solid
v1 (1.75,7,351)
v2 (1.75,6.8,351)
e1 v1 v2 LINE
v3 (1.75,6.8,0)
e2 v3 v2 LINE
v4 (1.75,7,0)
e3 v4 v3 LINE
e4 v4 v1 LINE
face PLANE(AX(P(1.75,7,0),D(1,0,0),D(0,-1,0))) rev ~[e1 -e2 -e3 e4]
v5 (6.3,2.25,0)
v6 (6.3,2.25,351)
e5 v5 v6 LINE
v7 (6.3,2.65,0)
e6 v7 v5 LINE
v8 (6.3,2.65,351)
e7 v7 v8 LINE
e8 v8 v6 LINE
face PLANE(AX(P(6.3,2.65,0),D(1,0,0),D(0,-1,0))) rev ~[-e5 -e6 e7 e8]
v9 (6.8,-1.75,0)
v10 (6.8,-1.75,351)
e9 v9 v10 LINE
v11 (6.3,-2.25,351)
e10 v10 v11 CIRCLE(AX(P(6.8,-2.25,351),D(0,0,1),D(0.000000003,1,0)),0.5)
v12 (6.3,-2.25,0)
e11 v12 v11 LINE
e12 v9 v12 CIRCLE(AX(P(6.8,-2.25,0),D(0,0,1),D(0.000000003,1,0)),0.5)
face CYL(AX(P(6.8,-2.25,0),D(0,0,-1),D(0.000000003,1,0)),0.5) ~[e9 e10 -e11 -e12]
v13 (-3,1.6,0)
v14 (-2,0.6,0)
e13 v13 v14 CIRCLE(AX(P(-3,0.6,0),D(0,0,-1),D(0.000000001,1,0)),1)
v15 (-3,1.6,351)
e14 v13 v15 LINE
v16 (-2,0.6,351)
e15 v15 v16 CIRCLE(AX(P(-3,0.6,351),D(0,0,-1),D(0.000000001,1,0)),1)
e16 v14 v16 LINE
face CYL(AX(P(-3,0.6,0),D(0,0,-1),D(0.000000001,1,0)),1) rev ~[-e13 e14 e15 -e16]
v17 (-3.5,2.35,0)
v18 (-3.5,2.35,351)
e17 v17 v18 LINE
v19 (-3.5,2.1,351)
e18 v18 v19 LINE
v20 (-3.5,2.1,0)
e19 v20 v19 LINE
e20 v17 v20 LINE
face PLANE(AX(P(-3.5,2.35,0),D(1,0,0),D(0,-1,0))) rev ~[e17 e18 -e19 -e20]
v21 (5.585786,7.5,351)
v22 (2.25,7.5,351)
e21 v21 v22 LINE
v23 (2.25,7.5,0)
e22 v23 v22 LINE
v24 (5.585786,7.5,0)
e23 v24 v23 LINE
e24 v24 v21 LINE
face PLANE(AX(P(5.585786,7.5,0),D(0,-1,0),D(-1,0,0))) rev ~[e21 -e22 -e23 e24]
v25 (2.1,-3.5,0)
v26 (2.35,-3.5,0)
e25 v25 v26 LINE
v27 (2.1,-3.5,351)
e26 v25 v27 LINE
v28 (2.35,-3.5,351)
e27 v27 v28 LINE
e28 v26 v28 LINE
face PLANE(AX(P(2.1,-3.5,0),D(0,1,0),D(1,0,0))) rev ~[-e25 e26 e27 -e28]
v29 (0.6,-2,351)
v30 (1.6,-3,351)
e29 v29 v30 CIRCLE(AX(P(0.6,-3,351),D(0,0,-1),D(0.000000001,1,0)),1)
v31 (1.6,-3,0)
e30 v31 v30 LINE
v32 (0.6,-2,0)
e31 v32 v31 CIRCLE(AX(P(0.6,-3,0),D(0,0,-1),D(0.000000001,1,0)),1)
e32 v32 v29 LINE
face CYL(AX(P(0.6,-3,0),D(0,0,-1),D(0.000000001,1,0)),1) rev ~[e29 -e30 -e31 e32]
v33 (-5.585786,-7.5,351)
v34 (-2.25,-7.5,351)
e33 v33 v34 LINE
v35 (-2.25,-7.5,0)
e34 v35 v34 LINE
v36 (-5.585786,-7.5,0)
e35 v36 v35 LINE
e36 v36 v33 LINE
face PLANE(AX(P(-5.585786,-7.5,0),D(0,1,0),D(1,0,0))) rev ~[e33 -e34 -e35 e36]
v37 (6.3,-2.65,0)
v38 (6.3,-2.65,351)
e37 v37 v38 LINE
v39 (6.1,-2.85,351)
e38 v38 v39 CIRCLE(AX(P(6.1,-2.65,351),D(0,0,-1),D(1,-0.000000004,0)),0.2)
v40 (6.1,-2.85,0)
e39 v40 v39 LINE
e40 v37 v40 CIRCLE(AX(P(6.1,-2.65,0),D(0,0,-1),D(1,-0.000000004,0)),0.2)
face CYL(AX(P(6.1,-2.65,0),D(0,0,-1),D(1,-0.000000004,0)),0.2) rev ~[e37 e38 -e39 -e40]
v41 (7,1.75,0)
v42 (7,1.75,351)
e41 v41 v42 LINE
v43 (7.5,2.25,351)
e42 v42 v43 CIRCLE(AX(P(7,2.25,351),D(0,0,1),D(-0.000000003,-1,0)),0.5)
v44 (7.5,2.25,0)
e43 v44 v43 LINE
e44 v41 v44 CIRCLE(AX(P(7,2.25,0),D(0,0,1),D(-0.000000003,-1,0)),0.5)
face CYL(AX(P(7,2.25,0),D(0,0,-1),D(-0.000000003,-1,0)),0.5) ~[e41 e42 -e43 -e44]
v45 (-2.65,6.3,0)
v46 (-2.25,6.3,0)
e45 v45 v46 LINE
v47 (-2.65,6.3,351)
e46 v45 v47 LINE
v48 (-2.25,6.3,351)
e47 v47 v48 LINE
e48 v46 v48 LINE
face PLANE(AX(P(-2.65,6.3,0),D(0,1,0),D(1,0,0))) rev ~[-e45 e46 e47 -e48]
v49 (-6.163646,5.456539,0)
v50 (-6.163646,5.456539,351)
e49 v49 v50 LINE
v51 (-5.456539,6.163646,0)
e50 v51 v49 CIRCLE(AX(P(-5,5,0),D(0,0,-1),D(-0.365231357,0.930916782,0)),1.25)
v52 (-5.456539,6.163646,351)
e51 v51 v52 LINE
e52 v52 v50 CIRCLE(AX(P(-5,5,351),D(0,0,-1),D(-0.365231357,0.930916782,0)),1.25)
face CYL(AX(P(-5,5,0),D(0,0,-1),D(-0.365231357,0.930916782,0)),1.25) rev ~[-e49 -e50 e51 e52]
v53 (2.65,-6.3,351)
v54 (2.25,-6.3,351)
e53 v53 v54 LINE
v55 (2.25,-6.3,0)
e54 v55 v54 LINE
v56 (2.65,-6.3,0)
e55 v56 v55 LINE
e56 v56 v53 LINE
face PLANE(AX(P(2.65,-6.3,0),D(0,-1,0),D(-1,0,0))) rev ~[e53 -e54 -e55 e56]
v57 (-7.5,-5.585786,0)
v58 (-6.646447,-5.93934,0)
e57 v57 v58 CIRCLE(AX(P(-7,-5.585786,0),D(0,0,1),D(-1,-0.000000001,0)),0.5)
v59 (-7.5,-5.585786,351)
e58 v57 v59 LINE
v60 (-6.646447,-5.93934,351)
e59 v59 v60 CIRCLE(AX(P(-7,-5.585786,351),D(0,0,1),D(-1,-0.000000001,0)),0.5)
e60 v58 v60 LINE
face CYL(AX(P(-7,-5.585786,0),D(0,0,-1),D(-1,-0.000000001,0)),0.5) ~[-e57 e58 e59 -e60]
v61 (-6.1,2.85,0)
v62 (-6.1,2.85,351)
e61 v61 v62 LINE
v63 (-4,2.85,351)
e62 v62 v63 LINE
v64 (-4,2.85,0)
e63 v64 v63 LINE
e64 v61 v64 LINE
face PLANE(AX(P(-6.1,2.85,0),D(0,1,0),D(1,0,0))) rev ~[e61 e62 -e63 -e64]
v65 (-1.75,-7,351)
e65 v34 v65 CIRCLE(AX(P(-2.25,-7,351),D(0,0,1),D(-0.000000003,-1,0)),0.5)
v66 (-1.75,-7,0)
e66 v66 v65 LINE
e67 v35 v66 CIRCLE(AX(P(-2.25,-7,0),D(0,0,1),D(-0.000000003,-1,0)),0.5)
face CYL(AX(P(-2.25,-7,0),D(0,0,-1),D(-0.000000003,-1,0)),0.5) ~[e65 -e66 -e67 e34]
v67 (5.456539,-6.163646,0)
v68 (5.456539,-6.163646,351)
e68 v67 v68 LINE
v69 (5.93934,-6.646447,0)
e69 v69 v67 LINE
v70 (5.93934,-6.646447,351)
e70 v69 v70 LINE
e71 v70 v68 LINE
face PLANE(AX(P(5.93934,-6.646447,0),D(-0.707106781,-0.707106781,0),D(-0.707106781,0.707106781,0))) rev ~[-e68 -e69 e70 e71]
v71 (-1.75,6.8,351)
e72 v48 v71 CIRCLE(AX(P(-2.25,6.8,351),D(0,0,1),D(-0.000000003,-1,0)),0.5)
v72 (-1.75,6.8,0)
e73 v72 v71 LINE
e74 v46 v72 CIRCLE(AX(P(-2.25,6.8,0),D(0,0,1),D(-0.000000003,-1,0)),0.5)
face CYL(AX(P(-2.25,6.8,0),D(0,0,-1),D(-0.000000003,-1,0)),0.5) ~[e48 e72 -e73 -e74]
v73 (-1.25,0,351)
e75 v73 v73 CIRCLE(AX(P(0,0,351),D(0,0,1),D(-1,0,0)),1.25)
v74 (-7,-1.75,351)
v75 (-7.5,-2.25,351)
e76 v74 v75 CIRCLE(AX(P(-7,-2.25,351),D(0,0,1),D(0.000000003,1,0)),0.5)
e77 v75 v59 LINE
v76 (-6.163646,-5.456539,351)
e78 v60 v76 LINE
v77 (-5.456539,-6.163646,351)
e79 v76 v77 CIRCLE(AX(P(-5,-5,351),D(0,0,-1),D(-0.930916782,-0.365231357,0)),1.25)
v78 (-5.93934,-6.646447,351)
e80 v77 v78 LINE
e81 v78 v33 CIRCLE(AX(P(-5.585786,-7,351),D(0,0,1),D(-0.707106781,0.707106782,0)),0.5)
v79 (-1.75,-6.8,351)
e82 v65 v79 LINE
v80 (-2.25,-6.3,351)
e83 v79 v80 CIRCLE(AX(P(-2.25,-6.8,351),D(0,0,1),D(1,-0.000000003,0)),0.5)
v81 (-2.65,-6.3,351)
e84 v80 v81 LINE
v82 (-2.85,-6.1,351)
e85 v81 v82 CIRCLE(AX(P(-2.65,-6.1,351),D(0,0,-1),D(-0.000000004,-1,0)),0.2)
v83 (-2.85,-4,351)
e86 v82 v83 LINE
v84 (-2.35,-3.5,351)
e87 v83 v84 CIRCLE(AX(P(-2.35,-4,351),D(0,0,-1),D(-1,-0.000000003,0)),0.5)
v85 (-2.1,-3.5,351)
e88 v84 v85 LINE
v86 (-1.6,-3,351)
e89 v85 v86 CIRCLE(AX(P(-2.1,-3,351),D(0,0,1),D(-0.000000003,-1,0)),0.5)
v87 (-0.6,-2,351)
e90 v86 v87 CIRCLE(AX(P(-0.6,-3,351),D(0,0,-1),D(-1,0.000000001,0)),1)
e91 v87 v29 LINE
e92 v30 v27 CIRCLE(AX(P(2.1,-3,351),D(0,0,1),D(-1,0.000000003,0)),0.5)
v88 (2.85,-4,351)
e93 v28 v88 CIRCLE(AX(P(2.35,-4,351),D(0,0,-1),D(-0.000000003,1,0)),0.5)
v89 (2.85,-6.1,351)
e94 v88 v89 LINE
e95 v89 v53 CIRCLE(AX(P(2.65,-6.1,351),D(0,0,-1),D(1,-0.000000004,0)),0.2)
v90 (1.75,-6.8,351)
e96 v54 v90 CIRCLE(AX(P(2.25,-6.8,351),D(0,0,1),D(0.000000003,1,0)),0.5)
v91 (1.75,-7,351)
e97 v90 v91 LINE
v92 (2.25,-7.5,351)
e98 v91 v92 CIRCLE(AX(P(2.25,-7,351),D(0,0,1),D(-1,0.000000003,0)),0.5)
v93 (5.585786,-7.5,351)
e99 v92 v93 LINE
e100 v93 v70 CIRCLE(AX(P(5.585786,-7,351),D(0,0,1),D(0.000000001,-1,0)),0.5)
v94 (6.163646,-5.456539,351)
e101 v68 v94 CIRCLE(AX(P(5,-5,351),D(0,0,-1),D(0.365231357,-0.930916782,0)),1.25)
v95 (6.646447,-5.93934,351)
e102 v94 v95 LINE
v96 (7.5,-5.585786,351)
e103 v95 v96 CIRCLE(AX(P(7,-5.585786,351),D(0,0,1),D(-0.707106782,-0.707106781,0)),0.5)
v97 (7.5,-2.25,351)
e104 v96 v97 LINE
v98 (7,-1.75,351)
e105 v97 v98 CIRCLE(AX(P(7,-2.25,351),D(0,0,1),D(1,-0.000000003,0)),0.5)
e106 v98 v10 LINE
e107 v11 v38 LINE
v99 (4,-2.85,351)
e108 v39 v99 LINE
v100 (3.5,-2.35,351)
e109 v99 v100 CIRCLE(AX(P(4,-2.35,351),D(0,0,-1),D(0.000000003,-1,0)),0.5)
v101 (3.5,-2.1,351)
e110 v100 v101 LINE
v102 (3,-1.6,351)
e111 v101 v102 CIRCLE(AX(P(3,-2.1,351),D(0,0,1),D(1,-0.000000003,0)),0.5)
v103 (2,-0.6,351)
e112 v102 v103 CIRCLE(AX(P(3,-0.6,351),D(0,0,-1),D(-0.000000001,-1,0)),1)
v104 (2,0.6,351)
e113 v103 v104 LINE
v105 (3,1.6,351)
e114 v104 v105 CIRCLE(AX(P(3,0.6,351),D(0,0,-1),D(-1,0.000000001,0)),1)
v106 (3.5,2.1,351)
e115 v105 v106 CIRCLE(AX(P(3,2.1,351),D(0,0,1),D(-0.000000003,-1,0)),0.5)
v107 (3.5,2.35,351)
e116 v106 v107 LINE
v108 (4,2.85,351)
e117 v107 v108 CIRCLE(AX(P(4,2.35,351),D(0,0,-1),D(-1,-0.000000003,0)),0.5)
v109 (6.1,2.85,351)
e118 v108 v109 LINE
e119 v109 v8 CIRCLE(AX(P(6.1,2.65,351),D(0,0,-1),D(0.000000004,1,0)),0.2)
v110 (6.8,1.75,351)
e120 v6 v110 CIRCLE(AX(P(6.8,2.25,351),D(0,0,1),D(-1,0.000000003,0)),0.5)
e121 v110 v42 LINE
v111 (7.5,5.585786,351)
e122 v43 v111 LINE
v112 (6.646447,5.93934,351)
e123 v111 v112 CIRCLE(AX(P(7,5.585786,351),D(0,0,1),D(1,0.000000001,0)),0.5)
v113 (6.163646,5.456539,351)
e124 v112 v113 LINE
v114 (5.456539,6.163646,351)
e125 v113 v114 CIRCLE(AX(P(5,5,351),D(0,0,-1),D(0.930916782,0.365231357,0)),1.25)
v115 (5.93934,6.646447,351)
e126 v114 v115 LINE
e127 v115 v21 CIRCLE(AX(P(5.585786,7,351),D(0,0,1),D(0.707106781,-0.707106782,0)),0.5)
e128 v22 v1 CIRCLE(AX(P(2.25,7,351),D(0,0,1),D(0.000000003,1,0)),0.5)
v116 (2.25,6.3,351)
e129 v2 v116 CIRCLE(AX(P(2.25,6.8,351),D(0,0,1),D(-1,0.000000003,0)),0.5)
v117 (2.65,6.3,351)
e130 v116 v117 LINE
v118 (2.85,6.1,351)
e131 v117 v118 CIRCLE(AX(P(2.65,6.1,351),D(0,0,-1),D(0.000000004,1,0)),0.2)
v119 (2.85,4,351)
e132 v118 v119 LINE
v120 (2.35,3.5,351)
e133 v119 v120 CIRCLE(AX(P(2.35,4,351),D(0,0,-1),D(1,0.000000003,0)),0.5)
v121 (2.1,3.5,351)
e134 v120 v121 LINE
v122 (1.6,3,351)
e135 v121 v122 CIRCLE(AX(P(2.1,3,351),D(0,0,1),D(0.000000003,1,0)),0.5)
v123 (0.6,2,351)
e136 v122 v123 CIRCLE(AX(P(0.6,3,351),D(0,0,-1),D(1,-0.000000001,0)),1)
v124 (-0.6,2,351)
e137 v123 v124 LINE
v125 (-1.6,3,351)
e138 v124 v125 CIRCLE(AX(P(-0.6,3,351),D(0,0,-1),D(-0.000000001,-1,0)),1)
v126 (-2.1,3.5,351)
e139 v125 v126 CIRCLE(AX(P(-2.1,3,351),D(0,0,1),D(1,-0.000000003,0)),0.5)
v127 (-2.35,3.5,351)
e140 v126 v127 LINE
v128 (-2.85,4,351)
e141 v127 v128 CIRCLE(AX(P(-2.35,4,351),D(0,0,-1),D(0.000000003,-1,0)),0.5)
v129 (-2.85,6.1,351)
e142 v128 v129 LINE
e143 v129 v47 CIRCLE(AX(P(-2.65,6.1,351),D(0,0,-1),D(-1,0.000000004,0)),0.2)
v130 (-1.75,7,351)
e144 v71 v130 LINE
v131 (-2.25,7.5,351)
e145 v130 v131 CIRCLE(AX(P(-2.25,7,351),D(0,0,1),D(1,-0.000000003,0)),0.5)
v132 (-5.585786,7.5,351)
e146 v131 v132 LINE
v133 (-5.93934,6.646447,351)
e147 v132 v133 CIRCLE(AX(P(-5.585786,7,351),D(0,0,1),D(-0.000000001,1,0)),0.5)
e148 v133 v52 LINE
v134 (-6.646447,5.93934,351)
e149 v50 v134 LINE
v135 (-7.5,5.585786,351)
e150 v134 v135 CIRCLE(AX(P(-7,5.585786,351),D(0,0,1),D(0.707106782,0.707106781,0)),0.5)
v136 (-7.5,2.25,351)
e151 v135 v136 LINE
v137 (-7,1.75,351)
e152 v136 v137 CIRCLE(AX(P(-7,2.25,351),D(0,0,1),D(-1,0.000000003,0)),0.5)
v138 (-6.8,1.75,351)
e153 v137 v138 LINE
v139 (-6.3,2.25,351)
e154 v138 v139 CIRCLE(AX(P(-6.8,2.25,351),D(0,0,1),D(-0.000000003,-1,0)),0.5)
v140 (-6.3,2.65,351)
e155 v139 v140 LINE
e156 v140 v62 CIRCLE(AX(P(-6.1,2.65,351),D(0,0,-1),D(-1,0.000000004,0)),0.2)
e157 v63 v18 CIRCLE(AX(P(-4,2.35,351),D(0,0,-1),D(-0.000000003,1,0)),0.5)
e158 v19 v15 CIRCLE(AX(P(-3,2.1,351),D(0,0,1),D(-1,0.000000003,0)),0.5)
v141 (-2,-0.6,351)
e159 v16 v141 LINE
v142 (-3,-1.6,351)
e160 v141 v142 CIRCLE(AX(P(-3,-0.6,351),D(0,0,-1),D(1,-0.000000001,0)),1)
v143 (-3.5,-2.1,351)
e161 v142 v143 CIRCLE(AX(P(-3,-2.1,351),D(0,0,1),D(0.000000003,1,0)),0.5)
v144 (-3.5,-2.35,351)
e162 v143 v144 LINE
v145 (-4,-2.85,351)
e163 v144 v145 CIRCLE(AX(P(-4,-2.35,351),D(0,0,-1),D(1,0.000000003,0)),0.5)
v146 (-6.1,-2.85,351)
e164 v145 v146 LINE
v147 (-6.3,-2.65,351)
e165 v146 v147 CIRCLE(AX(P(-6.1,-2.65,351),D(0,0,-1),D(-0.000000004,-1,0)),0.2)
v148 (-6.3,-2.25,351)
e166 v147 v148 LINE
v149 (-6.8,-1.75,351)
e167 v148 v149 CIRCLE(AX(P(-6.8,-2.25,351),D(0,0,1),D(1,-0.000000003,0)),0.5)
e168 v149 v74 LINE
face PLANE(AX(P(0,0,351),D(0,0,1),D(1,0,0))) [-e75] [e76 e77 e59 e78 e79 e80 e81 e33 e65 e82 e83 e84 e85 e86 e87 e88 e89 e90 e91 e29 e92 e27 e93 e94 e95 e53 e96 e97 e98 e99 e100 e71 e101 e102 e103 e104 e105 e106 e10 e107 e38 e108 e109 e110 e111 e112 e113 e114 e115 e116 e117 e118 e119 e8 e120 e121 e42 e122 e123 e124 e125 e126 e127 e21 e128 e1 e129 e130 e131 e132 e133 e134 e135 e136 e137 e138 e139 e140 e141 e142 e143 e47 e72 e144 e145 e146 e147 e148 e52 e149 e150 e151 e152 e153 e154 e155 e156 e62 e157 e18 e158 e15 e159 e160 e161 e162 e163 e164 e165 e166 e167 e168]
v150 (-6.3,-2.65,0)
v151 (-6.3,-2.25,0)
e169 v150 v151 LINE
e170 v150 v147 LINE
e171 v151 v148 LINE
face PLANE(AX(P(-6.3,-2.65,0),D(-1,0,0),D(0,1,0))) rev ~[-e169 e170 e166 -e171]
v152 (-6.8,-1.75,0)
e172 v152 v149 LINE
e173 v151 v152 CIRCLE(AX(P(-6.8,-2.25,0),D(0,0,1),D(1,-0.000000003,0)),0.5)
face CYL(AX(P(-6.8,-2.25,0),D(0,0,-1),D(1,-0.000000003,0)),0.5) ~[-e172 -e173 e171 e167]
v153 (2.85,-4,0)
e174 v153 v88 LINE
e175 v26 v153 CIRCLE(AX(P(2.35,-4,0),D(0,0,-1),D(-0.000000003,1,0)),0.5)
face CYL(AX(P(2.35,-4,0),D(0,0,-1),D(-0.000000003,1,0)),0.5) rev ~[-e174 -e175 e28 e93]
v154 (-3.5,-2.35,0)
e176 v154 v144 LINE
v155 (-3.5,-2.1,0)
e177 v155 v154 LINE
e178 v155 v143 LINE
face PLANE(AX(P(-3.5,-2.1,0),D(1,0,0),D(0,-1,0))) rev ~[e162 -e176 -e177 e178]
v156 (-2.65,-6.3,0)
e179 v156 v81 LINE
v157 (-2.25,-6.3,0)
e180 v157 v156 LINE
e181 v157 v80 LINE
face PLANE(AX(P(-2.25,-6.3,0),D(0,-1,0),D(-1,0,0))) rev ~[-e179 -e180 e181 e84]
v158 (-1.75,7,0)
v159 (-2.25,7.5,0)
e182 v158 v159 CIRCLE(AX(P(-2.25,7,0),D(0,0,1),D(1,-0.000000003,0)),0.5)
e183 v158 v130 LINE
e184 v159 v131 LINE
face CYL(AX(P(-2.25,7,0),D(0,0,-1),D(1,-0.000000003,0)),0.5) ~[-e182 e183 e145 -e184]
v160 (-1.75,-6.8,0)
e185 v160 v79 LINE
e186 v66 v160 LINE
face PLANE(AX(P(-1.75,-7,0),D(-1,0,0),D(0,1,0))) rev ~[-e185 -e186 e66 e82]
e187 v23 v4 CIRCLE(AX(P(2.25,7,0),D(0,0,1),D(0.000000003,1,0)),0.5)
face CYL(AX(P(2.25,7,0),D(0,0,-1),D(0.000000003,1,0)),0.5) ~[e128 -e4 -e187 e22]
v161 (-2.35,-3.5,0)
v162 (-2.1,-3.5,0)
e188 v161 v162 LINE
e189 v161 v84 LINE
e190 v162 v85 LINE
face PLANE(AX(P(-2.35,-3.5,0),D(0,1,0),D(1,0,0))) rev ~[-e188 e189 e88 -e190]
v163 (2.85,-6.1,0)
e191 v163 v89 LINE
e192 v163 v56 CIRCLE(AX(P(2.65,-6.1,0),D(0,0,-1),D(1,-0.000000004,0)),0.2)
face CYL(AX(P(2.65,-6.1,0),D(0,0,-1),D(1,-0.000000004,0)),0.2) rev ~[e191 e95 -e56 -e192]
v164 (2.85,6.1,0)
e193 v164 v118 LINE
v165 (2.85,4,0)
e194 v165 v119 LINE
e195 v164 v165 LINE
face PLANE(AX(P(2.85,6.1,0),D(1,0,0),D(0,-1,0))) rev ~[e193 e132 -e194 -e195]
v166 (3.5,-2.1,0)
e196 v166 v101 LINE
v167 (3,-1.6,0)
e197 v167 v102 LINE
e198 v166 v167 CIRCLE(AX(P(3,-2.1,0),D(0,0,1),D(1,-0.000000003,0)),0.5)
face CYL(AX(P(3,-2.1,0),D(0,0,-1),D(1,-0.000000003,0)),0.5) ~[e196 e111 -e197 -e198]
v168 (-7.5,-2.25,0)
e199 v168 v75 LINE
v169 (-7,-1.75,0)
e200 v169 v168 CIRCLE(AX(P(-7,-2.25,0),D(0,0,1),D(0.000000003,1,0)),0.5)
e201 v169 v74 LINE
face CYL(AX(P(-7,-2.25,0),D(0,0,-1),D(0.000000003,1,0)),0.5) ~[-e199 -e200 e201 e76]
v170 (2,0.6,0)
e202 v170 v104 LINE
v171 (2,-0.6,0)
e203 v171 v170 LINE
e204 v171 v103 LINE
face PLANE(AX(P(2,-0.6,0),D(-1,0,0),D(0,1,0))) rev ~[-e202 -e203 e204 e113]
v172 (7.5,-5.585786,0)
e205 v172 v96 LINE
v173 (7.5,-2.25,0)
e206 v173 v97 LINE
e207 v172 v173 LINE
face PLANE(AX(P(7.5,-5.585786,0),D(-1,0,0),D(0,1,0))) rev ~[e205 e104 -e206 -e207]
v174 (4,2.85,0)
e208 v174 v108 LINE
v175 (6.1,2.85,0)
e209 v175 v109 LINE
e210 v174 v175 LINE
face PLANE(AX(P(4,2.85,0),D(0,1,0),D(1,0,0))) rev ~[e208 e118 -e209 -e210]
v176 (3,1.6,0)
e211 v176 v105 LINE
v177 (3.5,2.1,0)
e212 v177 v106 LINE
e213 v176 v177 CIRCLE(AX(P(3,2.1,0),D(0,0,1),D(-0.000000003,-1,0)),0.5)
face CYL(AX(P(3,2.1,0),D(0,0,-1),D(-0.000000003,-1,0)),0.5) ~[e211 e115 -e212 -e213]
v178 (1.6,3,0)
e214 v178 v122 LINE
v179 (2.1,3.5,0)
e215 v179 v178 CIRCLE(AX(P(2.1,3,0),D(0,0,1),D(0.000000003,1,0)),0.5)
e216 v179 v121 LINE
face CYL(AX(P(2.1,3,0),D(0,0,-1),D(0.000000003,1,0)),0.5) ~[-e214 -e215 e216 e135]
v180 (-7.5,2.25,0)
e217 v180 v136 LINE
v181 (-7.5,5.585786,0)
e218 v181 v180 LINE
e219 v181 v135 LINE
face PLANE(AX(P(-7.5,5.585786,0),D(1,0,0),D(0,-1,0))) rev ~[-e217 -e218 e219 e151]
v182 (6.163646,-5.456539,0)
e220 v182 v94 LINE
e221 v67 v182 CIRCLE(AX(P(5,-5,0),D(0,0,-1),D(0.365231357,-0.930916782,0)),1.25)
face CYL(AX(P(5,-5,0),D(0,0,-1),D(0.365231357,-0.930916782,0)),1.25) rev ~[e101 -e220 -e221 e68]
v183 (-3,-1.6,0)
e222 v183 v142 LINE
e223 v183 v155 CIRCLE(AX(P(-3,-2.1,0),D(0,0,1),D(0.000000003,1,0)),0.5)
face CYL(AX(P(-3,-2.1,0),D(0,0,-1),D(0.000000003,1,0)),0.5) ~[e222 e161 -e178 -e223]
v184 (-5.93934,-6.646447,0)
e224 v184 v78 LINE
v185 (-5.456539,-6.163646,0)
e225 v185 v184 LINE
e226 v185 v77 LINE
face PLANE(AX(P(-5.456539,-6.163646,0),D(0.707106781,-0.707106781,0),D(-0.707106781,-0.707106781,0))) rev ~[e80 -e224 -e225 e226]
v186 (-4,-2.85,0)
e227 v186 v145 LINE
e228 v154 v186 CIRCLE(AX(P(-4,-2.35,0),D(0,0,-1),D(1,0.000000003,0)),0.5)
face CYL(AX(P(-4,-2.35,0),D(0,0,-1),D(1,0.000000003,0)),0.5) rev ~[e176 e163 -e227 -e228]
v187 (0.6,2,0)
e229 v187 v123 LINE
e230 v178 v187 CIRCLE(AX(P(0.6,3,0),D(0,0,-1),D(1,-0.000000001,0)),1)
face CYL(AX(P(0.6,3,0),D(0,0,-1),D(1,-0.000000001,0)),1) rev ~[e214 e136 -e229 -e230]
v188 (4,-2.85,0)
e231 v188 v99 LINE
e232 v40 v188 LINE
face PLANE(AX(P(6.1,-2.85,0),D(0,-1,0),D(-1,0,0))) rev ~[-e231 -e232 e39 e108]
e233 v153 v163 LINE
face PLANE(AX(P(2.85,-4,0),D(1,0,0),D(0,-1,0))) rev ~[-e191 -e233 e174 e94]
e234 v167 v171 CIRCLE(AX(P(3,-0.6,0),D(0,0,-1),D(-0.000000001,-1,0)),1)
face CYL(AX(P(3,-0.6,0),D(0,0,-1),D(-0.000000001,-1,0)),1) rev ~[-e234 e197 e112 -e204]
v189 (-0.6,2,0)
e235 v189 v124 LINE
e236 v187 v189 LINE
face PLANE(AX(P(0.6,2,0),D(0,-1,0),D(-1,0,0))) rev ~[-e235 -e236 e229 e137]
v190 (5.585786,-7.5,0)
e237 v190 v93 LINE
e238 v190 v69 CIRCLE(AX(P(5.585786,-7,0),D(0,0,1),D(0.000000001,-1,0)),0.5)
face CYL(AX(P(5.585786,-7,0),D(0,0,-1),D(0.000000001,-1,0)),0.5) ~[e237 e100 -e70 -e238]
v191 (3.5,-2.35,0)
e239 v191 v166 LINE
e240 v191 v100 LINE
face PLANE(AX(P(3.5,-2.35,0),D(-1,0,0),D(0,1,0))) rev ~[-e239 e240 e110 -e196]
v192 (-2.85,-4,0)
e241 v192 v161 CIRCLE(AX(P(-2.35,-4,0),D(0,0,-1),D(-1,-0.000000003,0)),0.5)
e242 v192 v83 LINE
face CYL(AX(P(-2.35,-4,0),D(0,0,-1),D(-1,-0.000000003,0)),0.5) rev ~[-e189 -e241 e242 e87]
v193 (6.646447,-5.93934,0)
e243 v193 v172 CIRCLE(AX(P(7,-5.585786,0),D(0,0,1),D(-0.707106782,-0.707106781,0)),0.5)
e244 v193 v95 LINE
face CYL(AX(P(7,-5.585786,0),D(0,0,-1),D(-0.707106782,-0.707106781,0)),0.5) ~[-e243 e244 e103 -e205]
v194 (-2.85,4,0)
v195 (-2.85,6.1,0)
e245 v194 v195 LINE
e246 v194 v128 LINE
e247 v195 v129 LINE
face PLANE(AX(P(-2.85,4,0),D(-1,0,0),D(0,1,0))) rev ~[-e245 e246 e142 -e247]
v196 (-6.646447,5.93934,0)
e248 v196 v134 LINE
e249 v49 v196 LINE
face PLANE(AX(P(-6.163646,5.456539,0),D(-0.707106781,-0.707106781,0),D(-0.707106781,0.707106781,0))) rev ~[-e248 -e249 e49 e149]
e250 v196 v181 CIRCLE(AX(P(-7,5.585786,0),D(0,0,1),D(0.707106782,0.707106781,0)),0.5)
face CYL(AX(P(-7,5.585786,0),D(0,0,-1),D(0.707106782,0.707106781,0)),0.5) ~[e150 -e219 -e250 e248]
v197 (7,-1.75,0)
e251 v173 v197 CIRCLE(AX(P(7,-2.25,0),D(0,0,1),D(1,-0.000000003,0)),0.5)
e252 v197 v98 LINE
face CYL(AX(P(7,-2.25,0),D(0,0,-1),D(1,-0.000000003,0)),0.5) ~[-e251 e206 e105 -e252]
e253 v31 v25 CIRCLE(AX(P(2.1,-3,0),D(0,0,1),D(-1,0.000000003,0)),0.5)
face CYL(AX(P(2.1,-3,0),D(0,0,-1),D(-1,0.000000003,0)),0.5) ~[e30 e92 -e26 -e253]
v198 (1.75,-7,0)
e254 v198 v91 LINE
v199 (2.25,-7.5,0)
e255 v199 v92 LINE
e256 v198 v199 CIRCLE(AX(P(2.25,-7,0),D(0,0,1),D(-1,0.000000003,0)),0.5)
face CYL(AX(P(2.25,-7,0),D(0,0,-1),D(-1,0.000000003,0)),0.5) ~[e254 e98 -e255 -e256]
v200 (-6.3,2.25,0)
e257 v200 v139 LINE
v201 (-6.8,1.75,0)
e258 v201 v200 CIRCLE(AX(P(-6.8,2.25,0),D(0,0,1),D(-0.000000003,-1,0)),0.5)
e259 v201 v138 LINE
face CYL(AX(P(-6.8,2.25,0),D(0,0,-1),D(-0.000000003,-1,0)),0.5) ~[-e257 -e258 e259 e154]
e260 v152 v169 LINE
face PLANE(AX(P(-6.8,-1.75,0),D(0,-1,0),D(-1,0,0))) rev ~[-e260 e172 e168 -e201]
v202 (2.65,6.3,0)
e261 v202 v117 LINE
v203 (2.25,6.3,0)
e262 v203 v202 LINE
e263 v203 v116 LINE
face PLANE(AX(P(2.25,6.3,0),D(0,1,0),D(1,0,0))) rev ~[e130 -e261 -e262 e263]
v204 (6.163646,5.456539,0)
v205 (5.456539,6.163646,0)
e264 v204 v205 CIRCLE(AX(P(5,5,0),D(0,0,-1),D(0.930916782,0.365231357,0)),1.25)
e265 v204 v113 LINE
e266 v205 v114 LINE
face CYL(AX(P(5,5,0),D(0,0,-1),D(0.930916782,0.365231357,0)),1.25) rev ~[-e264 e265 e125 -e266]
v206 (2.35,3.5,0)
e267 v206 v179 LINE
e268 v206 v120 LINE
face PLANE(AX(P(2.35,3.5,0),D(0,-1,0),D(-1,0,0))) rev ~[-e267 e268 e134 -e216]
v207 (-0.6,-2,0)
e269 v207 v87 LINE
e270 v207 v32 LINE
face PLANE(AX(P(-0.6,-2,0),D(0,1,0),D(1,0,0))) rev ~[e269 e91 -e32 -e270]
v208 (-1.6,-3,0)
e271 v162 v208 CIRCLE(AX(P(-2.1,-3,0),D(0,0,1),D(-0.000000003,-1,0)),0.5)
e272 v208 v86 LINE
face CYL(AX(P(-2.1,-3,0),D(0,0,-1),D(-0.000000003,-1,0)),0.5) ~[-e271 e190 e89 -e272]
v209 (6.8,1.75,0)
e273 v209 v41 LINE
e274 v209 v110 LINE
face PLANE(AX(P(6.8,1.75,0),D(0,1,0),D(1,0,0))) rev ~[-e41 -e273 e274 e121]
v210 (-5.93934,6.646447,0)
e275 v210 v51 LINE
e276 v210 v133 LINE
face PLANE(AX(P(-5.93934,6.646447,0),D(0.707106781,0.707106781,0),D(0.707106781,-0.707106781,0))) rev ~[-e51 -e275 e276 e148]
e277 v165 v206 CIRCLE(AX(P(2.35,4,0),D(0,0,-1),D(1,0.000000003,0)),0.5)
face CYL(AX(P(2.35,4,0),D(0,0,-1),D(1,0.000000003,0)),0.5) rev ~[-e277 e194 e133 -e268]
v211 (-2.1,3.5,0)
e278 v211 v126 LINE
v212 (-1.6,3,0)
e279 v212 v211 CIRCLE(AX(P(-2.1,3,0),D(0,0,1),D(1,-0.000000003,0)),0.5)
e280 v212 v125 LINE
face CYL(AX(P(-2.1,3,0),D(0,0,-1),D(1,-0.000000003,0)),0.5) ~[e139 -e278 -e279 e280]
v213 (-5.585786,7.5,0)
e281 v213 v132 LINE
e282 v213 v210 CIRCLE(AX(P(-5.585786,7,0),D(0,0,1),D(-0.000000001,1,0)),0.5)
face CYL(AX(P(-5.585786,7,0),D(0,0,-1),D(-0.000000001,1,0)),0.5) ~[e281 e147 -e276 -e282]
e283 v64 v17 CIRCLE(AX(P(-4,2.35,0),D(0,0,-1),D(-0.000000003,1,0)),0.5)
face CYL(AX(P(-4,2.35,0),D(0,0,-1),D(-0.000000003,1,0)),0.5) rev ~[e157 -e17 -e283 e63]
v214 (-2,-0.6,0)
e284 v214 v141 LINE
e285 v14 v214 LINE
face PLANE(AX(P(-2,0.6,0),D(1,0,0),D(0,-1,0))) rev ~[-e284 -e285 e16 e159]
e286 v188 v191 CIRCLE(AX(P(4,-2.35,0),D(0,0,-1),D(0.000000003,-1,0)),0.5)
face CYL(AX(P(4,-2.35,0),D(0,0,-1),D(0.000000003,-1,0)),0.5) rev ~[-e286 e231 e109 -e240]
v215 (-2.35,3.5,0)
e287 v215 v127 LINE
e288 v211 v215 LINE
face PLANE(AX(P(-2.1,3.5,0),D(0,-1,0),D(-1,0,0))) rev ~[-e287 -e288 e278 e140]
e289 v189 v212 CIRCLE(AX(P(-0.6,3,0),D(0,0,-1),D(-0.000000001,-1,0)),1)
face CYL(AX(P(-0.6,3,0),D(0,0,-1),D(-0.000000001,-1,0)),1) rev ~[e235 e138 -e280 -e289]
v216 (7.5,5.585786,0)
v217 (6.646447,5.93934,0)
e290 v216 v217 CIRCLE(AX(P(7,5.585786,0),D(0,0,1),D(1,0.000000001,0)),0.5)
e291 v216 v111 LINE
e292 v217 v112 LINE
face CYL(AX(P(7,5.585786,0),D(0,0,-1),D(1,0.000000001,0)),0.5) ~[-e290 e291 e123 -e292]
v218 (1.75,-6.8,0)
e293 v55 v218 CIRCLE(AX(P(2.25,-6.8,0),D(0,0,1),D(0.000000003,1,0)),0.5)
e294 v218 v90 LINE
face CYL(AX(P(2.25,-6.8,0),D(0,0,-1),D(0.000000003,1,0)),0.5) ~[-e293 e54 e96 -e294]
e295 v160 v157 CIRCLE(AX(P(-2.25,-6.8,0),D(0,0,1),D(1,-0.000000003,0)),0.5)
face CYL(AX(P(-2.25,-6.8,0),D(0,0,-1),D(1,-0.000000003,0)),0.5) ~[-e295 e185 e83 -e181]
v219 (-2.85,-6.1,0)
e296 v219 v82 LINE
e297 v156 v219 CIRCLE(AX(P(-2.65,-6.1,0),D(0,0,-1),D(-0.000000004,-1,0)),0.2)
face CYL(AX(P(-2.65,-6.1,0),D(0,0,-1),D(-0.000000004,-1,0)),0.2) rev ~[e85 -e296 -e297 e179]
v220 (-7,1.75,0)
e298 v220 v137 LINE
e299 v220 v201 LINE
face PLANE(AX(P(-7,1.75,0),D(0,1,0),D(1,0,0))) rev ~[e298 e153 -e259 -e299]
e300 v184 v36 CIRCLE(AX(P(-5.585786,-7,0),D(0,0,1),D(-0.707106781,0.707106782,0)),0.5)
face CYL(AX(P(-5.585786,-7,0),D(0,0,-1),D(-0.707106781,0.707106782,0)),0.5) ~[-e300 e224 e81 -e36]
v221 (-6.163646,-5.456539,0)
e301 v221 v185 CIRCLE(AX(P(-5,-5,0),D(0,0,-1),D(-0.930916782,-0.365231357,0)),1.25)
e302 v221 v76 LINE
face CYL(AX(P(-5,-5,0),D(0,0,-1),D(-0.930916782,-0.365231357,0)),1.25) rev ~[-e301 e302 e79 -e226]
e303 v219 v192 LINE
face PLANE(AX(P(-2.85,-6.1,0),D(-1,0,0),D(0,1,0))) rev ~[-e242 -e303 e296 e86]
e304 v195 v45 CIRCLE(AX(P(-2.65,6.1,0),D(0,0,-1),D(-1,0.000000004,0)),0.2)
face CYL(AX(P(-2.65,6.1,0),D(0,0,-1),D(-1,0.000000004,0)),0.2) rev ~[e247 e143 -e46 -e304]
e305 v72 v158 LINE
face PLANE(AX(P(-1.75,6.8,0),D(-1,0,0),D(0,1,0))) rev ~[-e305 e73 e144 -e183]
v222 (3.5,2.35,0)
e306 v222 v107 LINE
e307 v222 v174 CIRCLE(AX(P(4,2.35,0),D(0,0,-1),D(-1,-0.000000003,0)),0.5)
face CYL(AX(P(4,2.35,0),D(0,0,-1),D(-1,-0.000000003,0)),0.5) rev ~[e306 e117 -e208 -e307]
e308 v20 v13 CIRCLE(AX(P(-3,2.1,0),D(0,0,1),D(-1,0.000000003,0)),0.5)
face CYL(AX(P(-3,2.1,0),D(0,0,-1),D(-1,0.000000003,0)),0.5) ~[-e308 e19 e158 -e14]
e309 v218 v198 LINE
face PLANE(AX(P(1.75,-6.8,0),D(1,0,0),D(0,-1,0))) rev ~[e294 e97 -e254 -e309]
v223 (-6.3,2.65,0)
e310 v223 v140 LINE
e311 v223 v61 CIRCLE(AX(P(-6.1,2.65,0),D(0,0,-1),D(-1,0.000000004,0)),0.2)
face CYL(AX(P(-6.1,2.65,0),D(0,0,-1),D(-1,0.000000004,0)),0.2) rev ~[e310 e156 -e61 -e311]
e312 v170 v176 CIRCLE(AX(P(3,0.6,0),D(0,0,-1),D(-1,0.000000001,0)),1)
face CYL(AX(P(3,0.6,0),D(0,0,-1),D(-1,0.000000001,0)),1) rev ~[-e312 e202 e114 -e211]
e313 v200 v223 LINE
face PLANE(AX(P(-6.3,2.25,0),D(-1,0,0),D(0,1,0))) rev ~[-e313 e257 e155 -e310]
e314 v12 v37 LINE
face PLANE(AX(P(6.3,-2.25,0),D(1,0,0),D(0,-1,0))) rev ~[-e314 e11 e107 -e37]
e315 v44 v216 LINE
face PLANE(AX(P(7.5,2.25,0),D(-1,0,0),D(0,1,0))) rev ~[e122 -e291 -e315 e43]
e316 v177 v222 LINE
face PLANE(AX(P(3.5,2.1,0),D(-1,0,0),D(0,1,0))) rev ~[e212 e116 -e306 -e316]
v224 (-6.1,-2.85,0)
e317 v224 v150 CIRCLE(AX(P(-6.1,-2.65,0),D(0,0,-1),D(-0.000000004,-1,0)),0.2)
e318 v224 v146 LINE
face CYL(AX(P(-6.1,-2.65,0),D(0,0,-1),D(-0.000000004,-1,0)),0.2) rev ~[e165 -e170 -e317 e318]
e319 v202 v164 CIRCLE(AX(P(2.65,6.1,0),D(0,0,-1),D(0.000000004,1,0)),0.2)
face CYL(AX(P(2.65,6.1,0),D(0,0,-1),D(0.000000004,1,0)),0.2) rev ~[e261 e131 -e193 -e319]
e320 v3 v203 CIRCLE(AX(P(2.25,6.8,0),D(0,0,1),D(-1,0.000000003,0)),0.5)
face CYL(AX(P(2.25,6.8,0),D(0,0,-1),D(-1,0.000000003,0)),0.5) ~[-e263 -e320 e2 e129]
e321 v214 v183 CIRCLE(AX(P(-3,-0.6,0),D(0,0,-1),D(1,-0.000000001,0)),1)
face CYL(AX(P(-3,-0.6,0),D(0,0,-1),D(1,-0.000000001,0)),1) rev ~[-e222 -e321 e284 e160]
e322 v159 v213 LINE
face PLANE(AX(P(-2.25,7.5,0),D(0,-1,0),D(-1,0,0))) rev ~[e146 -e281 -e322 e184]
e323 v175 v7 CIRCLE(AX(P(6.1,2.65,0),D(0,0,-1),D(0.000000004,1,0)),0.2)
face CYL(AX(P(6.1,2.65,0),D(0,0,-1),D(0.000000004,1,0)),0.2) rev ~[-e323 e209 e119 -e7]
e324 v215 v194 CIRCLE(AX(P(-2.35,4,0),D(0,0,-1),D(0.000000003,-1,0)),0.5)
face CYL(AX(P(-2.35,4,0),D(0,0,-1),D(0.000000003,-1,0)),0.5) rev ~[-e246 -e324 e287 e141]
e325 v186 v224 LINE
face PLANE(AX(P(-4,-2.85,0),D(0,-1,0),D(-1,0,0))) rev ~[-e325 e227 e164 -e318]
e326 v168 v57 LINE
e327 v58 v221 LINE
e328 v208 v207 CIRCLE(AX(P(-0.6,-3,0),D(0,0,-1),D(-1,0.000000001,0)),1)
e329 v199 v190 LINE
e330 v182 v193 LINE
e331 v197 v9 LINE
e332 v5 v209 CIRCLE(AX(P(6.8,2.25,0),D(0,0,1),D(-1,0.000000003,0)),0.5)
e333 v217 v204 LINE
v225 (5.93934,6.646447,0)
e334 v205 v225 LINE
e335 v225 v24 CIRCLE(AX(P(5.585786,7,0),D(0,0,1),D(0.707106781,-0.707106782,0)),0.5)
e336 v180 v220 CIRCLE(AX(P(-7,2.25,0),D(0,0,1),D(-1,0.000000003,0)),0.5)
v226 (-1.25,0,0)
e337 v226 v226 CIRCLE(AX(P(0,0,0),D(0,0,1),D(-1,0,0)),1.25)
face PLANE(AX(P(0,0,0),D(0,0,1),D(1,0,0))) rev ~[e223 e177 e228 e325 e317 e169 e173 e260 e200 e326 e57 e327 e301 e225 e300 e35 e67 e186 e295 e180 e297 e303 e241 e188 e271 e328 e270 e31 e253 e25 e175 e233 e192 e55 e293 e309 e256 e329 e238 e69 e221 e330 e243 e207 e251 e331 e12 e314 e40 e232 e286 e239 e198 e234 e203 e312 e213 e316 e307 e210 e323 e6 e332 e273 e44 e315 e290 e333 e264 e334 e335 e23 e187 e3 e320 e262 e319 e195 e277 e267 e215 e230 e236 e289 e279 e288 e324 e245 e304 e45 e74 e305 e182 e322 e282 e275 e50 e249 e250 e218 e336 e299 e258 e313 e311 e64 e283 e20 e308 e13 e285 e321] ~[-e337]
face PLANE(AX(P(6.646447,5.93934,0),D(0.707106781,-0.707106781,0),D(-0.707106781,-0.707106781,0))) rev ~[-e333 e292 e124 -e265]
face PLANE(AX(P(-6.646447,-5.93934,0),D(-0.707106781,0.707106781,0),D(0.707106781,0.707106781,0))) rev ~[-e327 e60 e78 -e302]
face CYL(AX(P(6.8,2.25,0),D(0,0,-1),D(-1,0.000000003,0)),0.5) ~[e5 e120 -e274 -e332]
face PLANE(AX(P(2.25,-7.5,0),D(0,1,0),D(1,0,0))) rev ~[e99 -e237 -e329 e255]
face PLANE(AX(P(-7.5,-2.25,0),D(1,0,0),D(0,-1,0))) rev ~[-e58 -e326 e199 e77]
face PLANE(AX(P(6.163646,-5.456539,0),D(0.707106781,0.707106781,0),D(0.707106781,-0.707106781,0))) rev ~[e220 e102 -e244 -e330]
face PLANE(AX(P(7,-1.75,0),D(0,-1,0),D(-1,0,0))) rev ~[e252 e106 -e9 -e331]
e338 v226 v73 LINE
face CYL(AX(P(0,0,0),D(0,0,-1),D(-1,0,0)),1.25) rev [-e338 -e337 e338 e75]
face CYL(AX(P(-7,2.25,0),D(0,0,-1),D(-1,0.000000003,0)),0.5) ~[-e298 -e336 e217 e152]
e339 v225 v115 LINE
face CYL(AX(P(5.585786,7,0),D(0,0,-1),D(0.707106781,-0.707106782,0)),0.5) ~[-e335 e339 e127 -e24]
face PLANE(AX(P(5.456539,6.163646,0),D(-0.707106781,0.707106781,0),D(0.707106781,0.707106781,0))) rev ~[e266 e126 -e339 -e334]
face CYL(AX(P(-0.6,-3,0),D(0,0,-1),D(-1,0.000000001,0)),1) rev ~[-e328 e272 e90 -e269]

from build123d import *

# Parameters (mm, degrees)
SKETCH1_R           = 1.25
BOSS_EXTRUDE1_DEPTH = 351.000000056


with BuildPart() as part:
    # Sketch1 → Boss-Extrude1 (new body)
    with BuildSketch(Plane.XY):
        with BuildLine():
            Line((6.646446609, 5.939339828), (6.163645978, 5.456539197))
            ThreePointArc((6.163645978, 5.456539197), (4.116116524, 4.116116524), (5.456539197, 6.163645978))
            Line((5.456539197, 6.163645978), (5.939339828, 6.646446609))
            ThreePointArc((5.939339828, 6.646446609), (6.047726204, 7.191341716), (5.585786438, 7.5))
            Line((5.585786438, 7.5), (2.25, 7.5))
            ThreePointArc((2.25, 7.5), (1.896446609, 7.353553391), (1.75, 7))
            Line((1.75, 7), (1.75, 6.8))
            ThreePointArc((1.75, 6.8), (1.896446609, 6.446446609), (2.25, 6.3))
            Line((2.25, 6.3), (2.65, 6.3))
            ThreePointArc((2.65, 6.3), (2.791421356, 6.241421356), (2.85, 6.1))
            Line((2.85, 6.1), (2.85, 4))
            ThreePointArc((2.85, 4), (2.703553391, 3.646446609), (2.35, 3.5))
            Line((2.35, 3.5), (2.1, 3.5))
            ThreePointArc((2.1, 3.5), (1.746446609, 3.353553391), (1.6, 3))
            ThreePointArc((1.6, 3), (1.307106781, 2.292893219), (0.6, 2))
            Line((0.6, 2), (-0.6, 2))
            ThreePointArc((-0.6, 2), (-1.307106781, 2.292893219), (-1.6, 3))
            ThreePointArc((-1.6, 3), (-1.746446609, 3.353553391), (-2.1, 3.5))
            Line((-2.1, 3.5), (-2.35, 3.5))
            ThreePointArc((-2.35, 3.5), (-2.703553391, 3.646446609), (-2.85, 4))
            Line((-2.85, 4), (-2.85, 6.1))
            ThreePointArc((-2.85, 6.1), (-2.791421356, 6.241421356), (-2.65, 6.3))
            Line((-2.65, 6.3), (-2.25, 6.3))
            ThreePointArc((-2.25, 6.3), (-1.896446609, 6.446446609), (-1.75, 6.8))
            Line((-1.75, 6.8), (-1.75, 7))
            ThreePointArc((-1.75, 7), (-1.896446609, 7.353553391), (-2.25, 7.5))
            Line((-2.25, 7.5), (-5.585786438, 7.5))
            ThreePointArc((-5.585786438, 7.5), (-6.047726204, 7.191341716), (-5.939339828, 6.646446609))
            Line((-5.939339828, 6.646446609), (-5.456539197, 6.163645978))
            ThreePointArc((-5.456539197, 6.163645978), (-4.116116524, 4.116116524), (-6.163645978, 5.456539197))
            Line((-6.163645978, 5.456539197), (-6.646446609, 5.939339828))
            ThreePointArc((-6.646446609, 5.939339828), (-7.191341716, 6.047726204), (-7.5, 5.585786438))
            Line((-7.5, 5.585786438), (-7.5, 2.25))
            ThreePointArc((-7.5, 2.25), (-7.353553391, 1.896446609), (-7, 1.75))
            Line((-7, 1.75), (-6.8, 1.75))
            ThreePointArc((-6.8, 1.75), (-6.446446609, 1.896446609), (-6.3, 2.25))
            Line((-6.3, 2.25), (-6.3, 2.65))
            ThreePointArc((-6.3, 2.65), (-6.241421356, 2.791421356), (-6.1, 2.85))
            Line((-6.1, 2.85), (-4, 2.85))
            ThreePointArc((-4, 2.85), (-3.646446609, 2.703553391), (-3.5, 2.35))
            Line((-3.5, 2.35), (-3.5, 2.1))
            ThreePointArc((-3.5, 2.1), (-3.353553391, 1.746446609), (-3, 1.6))
            ThreePointArc((-3, 1.6), (-2.292893219, 1.307106781), (-2, 0.6))
            Line((-2, 0.6), (-2, -0.6))
            ThreePointArc((-2, -0.6), (-2.292893219, -1.307106781), (-3, -1.6))
            ThreePointArc((-3, -1.6), (-3.353553391, -1.746446609), (-3.5, -2.1))
            Line((-3.5, -2.1), (-3.5, -2.35))
            ThreePointArc((-3.5, -2.35), (-3.646446609, -2.703553391), (-4, -2.85))
            Line((-4, -2.85), (-6.1, -2.85))
            ThreePointArc((-6.1, -2.85), (-6.241421356, -2.791421356), (-6.3, -2.65))
            Line((-6.3, -2.65), (-6.3, -2.25))
            ThreePointArc((-6.3, -2.25), (-6.446446609, -1.896446609), (-6.8, -1.75))
            Line((-6.8, -1.75), (-7, -1.75))
            ThreePointArc((-7, -1.75), (-7.353553391, -1.896446609), (-7.5, -2.25))
            Line((-7.5, -2.25), (-7.5, -5.585786438))
            ThreePointArc((-7.5, -5.585786438), (-7.191341716, -6.047726204), (-6.646446609, -5.939339828))
            Line((-6.646446609, -5.939339828), (-6.163645978, -5.456539197))
            ThreePointArc((-6.163645978, -5.456539197), (-4.116116524, -4.116116524), (-5.456539197, -6.163645978))
            Line((-5.456539197, -6.163645978), (-5.939339828, -6.646446609))
            ThreePointArc((-5.939339828, -6.646446609), (-6.047726204, -7.191341716), (-5.585786438, -7.5))
            Line((-5.585786438, -7.5), (-2.25, -7.5))
            ThreePointArc((-2.25, -7.5), (-1.896446609, -7.353553391), (-1.75, -7))
            Line((-1.75, -7), (-1.75, -6.8))
            ThreePointArc((-1.75, -6.8), (-1.896446609, -6.446446609), (-2.25, -6.3))
            Line((-2.25, -6.3), (-2.65, -6.3))
            ThreePointArc((-2.65, -6.3), (-2.791421356, -6.241421356), (-2.85, -6.1))
            Line((-2.85, -6.1), (-2.85, -4))
            ThreePointArc((-2.85, -4), (-2.703553391, -3.646446609), (-2.35, -3.5))
            Line((-2.35, -3.5), (-2.1, -3.5))
            ThreePointArc((-2.1, -3.5), (-1.746446609, -3.353553391), (-1.6, -3))
            ThreePointArc((-1.6, -3), (-1.307106781, -2.292893219), (-0.6, -2))
            Line((-0.6, -2), (0.6, -2))
            ThreePointArc((0.6, -2), (1.307106781, -2.292893219), (1.6, -3))
            ThreePointArc((1.6, -3), (1.746446609, -3.353553391), (2.1, -3.5))
            Line((2.1, -3.5), (2.35, -3.5))
            ThreePointArc((2.35, -3.5), (2.703553391, -3.646446609), (2.85, -4))
            Line((2.85, -4), (2.85, -6.1))
            ThreePointArc((2.85, -6.1), (2.791421356, -6.241421356), (2.65, -6.3))
            Line((2.65, -6.3), (2.25, -6.3))
            ThreePointArc((2.25, -6.3), (1.896446609, -6.446446609), (1.75, -6.8))
            Line((1.75, -6.8), (1.75, -7))
            ThreePointArc((1.75, -7), (1.896446609, -7.353553391), (2.25, -7.5))
            Line((2.25, -7.5), (5.585786438, -7.5))
            ThreePointArc((5.585786438, -7.5), (6.047726204, -7.191341716), (5.939339828, -6.646446609))
            Line((5.939339828, -6.646446609), (5.456539197, -6.163645978))
            ThreePointArc((5.456539197, -6.163645978), (4.116116524, -4.116116524), (6.163645978, -5.456539197))
            Line((6.163645978, -5.456539197), (6.646446609, -5.939339828))
            ThreePointArc((6.646446609, -5.939339828), (7.191341716, -6.047726204), (7.5, -5.585786438))
            Line((7.5, -5.585786438), (7.5, -2.25))
            ThreePointArc((7.5, -2.25), (7.353553391, -1.896446609), (7, -1.75))
            Line((7, -1.75), (6.8, -1.75))
            ThreePointArc((6.8, -1.75), (6.446446609, -1.896446609), (6.3, -2.25))
            Line((6.3, -2.25), (6.3, -2.65))
            ThreePointArc((6.3, -2.65), (6.241421356, -2.791421356), (6.1, -2.85))
            Line((6.1, -2.85), (4, -2.85))
            ThreePointArc((4, -2.85), (3.646446609, -2.703553391), (3.5, -2.35))
            Line((3.5, -2.35), (3.5, -2.1))
            ThreePointArc((3.5, -2.1), (3.353553391, -1.746446609), (3, -1.6))
            ThreePointArc((3, -1.6), (2.292893219, -1.307106781), (2, -0.6))
            Line((2, -0.6), (2, 0.6))
            ThreePointArc((2, 0.6), (2.292893219, 1.307106781), (3, 1.6))
            ThreePointArc((3, 1.6), (3.353553391, 1.746446609), (3.5, 2.1))
            Line((3.5, 2.1), (3.5, 2.35))
            ThreePointArc((3.5, 2.35), (3.646446609, 2.703553391), (4, 2.85))
            Line((4, 2.85), (6.1, 2.85))
            ThreePointArc((6.1, 2.85), (6.241421356, 2.791421356), (6.3, 2.65))
            Line((6.3, 2.65), (6.3, 2.25))
            ThreePointArc((6.3, 2.25), (6.446446609, 1.896446609), (6.8, 1.75))
            Line((6.8, 1.75), (7, 1.75))
            ThreePointArc((7, 1.75), (7.353553391, 1.896446609), (7.5, 2.25))
            Line((7.5, 2.25), (7.5, 5.585786438))
            ThreePointArc((7.5, 5.585786438), (7.191341716, 6.047726204), (6.646446609, 5.939339828))
        make_face()
        with Locations(Location((0, 0, 0), (0, 0, 180))):
            Circle(SKETCH1_R, mode=Mode.SUBTRACT)
    extrude(amount=BOSS_EXTRUDE1_DEPTH)


solid = part.part
